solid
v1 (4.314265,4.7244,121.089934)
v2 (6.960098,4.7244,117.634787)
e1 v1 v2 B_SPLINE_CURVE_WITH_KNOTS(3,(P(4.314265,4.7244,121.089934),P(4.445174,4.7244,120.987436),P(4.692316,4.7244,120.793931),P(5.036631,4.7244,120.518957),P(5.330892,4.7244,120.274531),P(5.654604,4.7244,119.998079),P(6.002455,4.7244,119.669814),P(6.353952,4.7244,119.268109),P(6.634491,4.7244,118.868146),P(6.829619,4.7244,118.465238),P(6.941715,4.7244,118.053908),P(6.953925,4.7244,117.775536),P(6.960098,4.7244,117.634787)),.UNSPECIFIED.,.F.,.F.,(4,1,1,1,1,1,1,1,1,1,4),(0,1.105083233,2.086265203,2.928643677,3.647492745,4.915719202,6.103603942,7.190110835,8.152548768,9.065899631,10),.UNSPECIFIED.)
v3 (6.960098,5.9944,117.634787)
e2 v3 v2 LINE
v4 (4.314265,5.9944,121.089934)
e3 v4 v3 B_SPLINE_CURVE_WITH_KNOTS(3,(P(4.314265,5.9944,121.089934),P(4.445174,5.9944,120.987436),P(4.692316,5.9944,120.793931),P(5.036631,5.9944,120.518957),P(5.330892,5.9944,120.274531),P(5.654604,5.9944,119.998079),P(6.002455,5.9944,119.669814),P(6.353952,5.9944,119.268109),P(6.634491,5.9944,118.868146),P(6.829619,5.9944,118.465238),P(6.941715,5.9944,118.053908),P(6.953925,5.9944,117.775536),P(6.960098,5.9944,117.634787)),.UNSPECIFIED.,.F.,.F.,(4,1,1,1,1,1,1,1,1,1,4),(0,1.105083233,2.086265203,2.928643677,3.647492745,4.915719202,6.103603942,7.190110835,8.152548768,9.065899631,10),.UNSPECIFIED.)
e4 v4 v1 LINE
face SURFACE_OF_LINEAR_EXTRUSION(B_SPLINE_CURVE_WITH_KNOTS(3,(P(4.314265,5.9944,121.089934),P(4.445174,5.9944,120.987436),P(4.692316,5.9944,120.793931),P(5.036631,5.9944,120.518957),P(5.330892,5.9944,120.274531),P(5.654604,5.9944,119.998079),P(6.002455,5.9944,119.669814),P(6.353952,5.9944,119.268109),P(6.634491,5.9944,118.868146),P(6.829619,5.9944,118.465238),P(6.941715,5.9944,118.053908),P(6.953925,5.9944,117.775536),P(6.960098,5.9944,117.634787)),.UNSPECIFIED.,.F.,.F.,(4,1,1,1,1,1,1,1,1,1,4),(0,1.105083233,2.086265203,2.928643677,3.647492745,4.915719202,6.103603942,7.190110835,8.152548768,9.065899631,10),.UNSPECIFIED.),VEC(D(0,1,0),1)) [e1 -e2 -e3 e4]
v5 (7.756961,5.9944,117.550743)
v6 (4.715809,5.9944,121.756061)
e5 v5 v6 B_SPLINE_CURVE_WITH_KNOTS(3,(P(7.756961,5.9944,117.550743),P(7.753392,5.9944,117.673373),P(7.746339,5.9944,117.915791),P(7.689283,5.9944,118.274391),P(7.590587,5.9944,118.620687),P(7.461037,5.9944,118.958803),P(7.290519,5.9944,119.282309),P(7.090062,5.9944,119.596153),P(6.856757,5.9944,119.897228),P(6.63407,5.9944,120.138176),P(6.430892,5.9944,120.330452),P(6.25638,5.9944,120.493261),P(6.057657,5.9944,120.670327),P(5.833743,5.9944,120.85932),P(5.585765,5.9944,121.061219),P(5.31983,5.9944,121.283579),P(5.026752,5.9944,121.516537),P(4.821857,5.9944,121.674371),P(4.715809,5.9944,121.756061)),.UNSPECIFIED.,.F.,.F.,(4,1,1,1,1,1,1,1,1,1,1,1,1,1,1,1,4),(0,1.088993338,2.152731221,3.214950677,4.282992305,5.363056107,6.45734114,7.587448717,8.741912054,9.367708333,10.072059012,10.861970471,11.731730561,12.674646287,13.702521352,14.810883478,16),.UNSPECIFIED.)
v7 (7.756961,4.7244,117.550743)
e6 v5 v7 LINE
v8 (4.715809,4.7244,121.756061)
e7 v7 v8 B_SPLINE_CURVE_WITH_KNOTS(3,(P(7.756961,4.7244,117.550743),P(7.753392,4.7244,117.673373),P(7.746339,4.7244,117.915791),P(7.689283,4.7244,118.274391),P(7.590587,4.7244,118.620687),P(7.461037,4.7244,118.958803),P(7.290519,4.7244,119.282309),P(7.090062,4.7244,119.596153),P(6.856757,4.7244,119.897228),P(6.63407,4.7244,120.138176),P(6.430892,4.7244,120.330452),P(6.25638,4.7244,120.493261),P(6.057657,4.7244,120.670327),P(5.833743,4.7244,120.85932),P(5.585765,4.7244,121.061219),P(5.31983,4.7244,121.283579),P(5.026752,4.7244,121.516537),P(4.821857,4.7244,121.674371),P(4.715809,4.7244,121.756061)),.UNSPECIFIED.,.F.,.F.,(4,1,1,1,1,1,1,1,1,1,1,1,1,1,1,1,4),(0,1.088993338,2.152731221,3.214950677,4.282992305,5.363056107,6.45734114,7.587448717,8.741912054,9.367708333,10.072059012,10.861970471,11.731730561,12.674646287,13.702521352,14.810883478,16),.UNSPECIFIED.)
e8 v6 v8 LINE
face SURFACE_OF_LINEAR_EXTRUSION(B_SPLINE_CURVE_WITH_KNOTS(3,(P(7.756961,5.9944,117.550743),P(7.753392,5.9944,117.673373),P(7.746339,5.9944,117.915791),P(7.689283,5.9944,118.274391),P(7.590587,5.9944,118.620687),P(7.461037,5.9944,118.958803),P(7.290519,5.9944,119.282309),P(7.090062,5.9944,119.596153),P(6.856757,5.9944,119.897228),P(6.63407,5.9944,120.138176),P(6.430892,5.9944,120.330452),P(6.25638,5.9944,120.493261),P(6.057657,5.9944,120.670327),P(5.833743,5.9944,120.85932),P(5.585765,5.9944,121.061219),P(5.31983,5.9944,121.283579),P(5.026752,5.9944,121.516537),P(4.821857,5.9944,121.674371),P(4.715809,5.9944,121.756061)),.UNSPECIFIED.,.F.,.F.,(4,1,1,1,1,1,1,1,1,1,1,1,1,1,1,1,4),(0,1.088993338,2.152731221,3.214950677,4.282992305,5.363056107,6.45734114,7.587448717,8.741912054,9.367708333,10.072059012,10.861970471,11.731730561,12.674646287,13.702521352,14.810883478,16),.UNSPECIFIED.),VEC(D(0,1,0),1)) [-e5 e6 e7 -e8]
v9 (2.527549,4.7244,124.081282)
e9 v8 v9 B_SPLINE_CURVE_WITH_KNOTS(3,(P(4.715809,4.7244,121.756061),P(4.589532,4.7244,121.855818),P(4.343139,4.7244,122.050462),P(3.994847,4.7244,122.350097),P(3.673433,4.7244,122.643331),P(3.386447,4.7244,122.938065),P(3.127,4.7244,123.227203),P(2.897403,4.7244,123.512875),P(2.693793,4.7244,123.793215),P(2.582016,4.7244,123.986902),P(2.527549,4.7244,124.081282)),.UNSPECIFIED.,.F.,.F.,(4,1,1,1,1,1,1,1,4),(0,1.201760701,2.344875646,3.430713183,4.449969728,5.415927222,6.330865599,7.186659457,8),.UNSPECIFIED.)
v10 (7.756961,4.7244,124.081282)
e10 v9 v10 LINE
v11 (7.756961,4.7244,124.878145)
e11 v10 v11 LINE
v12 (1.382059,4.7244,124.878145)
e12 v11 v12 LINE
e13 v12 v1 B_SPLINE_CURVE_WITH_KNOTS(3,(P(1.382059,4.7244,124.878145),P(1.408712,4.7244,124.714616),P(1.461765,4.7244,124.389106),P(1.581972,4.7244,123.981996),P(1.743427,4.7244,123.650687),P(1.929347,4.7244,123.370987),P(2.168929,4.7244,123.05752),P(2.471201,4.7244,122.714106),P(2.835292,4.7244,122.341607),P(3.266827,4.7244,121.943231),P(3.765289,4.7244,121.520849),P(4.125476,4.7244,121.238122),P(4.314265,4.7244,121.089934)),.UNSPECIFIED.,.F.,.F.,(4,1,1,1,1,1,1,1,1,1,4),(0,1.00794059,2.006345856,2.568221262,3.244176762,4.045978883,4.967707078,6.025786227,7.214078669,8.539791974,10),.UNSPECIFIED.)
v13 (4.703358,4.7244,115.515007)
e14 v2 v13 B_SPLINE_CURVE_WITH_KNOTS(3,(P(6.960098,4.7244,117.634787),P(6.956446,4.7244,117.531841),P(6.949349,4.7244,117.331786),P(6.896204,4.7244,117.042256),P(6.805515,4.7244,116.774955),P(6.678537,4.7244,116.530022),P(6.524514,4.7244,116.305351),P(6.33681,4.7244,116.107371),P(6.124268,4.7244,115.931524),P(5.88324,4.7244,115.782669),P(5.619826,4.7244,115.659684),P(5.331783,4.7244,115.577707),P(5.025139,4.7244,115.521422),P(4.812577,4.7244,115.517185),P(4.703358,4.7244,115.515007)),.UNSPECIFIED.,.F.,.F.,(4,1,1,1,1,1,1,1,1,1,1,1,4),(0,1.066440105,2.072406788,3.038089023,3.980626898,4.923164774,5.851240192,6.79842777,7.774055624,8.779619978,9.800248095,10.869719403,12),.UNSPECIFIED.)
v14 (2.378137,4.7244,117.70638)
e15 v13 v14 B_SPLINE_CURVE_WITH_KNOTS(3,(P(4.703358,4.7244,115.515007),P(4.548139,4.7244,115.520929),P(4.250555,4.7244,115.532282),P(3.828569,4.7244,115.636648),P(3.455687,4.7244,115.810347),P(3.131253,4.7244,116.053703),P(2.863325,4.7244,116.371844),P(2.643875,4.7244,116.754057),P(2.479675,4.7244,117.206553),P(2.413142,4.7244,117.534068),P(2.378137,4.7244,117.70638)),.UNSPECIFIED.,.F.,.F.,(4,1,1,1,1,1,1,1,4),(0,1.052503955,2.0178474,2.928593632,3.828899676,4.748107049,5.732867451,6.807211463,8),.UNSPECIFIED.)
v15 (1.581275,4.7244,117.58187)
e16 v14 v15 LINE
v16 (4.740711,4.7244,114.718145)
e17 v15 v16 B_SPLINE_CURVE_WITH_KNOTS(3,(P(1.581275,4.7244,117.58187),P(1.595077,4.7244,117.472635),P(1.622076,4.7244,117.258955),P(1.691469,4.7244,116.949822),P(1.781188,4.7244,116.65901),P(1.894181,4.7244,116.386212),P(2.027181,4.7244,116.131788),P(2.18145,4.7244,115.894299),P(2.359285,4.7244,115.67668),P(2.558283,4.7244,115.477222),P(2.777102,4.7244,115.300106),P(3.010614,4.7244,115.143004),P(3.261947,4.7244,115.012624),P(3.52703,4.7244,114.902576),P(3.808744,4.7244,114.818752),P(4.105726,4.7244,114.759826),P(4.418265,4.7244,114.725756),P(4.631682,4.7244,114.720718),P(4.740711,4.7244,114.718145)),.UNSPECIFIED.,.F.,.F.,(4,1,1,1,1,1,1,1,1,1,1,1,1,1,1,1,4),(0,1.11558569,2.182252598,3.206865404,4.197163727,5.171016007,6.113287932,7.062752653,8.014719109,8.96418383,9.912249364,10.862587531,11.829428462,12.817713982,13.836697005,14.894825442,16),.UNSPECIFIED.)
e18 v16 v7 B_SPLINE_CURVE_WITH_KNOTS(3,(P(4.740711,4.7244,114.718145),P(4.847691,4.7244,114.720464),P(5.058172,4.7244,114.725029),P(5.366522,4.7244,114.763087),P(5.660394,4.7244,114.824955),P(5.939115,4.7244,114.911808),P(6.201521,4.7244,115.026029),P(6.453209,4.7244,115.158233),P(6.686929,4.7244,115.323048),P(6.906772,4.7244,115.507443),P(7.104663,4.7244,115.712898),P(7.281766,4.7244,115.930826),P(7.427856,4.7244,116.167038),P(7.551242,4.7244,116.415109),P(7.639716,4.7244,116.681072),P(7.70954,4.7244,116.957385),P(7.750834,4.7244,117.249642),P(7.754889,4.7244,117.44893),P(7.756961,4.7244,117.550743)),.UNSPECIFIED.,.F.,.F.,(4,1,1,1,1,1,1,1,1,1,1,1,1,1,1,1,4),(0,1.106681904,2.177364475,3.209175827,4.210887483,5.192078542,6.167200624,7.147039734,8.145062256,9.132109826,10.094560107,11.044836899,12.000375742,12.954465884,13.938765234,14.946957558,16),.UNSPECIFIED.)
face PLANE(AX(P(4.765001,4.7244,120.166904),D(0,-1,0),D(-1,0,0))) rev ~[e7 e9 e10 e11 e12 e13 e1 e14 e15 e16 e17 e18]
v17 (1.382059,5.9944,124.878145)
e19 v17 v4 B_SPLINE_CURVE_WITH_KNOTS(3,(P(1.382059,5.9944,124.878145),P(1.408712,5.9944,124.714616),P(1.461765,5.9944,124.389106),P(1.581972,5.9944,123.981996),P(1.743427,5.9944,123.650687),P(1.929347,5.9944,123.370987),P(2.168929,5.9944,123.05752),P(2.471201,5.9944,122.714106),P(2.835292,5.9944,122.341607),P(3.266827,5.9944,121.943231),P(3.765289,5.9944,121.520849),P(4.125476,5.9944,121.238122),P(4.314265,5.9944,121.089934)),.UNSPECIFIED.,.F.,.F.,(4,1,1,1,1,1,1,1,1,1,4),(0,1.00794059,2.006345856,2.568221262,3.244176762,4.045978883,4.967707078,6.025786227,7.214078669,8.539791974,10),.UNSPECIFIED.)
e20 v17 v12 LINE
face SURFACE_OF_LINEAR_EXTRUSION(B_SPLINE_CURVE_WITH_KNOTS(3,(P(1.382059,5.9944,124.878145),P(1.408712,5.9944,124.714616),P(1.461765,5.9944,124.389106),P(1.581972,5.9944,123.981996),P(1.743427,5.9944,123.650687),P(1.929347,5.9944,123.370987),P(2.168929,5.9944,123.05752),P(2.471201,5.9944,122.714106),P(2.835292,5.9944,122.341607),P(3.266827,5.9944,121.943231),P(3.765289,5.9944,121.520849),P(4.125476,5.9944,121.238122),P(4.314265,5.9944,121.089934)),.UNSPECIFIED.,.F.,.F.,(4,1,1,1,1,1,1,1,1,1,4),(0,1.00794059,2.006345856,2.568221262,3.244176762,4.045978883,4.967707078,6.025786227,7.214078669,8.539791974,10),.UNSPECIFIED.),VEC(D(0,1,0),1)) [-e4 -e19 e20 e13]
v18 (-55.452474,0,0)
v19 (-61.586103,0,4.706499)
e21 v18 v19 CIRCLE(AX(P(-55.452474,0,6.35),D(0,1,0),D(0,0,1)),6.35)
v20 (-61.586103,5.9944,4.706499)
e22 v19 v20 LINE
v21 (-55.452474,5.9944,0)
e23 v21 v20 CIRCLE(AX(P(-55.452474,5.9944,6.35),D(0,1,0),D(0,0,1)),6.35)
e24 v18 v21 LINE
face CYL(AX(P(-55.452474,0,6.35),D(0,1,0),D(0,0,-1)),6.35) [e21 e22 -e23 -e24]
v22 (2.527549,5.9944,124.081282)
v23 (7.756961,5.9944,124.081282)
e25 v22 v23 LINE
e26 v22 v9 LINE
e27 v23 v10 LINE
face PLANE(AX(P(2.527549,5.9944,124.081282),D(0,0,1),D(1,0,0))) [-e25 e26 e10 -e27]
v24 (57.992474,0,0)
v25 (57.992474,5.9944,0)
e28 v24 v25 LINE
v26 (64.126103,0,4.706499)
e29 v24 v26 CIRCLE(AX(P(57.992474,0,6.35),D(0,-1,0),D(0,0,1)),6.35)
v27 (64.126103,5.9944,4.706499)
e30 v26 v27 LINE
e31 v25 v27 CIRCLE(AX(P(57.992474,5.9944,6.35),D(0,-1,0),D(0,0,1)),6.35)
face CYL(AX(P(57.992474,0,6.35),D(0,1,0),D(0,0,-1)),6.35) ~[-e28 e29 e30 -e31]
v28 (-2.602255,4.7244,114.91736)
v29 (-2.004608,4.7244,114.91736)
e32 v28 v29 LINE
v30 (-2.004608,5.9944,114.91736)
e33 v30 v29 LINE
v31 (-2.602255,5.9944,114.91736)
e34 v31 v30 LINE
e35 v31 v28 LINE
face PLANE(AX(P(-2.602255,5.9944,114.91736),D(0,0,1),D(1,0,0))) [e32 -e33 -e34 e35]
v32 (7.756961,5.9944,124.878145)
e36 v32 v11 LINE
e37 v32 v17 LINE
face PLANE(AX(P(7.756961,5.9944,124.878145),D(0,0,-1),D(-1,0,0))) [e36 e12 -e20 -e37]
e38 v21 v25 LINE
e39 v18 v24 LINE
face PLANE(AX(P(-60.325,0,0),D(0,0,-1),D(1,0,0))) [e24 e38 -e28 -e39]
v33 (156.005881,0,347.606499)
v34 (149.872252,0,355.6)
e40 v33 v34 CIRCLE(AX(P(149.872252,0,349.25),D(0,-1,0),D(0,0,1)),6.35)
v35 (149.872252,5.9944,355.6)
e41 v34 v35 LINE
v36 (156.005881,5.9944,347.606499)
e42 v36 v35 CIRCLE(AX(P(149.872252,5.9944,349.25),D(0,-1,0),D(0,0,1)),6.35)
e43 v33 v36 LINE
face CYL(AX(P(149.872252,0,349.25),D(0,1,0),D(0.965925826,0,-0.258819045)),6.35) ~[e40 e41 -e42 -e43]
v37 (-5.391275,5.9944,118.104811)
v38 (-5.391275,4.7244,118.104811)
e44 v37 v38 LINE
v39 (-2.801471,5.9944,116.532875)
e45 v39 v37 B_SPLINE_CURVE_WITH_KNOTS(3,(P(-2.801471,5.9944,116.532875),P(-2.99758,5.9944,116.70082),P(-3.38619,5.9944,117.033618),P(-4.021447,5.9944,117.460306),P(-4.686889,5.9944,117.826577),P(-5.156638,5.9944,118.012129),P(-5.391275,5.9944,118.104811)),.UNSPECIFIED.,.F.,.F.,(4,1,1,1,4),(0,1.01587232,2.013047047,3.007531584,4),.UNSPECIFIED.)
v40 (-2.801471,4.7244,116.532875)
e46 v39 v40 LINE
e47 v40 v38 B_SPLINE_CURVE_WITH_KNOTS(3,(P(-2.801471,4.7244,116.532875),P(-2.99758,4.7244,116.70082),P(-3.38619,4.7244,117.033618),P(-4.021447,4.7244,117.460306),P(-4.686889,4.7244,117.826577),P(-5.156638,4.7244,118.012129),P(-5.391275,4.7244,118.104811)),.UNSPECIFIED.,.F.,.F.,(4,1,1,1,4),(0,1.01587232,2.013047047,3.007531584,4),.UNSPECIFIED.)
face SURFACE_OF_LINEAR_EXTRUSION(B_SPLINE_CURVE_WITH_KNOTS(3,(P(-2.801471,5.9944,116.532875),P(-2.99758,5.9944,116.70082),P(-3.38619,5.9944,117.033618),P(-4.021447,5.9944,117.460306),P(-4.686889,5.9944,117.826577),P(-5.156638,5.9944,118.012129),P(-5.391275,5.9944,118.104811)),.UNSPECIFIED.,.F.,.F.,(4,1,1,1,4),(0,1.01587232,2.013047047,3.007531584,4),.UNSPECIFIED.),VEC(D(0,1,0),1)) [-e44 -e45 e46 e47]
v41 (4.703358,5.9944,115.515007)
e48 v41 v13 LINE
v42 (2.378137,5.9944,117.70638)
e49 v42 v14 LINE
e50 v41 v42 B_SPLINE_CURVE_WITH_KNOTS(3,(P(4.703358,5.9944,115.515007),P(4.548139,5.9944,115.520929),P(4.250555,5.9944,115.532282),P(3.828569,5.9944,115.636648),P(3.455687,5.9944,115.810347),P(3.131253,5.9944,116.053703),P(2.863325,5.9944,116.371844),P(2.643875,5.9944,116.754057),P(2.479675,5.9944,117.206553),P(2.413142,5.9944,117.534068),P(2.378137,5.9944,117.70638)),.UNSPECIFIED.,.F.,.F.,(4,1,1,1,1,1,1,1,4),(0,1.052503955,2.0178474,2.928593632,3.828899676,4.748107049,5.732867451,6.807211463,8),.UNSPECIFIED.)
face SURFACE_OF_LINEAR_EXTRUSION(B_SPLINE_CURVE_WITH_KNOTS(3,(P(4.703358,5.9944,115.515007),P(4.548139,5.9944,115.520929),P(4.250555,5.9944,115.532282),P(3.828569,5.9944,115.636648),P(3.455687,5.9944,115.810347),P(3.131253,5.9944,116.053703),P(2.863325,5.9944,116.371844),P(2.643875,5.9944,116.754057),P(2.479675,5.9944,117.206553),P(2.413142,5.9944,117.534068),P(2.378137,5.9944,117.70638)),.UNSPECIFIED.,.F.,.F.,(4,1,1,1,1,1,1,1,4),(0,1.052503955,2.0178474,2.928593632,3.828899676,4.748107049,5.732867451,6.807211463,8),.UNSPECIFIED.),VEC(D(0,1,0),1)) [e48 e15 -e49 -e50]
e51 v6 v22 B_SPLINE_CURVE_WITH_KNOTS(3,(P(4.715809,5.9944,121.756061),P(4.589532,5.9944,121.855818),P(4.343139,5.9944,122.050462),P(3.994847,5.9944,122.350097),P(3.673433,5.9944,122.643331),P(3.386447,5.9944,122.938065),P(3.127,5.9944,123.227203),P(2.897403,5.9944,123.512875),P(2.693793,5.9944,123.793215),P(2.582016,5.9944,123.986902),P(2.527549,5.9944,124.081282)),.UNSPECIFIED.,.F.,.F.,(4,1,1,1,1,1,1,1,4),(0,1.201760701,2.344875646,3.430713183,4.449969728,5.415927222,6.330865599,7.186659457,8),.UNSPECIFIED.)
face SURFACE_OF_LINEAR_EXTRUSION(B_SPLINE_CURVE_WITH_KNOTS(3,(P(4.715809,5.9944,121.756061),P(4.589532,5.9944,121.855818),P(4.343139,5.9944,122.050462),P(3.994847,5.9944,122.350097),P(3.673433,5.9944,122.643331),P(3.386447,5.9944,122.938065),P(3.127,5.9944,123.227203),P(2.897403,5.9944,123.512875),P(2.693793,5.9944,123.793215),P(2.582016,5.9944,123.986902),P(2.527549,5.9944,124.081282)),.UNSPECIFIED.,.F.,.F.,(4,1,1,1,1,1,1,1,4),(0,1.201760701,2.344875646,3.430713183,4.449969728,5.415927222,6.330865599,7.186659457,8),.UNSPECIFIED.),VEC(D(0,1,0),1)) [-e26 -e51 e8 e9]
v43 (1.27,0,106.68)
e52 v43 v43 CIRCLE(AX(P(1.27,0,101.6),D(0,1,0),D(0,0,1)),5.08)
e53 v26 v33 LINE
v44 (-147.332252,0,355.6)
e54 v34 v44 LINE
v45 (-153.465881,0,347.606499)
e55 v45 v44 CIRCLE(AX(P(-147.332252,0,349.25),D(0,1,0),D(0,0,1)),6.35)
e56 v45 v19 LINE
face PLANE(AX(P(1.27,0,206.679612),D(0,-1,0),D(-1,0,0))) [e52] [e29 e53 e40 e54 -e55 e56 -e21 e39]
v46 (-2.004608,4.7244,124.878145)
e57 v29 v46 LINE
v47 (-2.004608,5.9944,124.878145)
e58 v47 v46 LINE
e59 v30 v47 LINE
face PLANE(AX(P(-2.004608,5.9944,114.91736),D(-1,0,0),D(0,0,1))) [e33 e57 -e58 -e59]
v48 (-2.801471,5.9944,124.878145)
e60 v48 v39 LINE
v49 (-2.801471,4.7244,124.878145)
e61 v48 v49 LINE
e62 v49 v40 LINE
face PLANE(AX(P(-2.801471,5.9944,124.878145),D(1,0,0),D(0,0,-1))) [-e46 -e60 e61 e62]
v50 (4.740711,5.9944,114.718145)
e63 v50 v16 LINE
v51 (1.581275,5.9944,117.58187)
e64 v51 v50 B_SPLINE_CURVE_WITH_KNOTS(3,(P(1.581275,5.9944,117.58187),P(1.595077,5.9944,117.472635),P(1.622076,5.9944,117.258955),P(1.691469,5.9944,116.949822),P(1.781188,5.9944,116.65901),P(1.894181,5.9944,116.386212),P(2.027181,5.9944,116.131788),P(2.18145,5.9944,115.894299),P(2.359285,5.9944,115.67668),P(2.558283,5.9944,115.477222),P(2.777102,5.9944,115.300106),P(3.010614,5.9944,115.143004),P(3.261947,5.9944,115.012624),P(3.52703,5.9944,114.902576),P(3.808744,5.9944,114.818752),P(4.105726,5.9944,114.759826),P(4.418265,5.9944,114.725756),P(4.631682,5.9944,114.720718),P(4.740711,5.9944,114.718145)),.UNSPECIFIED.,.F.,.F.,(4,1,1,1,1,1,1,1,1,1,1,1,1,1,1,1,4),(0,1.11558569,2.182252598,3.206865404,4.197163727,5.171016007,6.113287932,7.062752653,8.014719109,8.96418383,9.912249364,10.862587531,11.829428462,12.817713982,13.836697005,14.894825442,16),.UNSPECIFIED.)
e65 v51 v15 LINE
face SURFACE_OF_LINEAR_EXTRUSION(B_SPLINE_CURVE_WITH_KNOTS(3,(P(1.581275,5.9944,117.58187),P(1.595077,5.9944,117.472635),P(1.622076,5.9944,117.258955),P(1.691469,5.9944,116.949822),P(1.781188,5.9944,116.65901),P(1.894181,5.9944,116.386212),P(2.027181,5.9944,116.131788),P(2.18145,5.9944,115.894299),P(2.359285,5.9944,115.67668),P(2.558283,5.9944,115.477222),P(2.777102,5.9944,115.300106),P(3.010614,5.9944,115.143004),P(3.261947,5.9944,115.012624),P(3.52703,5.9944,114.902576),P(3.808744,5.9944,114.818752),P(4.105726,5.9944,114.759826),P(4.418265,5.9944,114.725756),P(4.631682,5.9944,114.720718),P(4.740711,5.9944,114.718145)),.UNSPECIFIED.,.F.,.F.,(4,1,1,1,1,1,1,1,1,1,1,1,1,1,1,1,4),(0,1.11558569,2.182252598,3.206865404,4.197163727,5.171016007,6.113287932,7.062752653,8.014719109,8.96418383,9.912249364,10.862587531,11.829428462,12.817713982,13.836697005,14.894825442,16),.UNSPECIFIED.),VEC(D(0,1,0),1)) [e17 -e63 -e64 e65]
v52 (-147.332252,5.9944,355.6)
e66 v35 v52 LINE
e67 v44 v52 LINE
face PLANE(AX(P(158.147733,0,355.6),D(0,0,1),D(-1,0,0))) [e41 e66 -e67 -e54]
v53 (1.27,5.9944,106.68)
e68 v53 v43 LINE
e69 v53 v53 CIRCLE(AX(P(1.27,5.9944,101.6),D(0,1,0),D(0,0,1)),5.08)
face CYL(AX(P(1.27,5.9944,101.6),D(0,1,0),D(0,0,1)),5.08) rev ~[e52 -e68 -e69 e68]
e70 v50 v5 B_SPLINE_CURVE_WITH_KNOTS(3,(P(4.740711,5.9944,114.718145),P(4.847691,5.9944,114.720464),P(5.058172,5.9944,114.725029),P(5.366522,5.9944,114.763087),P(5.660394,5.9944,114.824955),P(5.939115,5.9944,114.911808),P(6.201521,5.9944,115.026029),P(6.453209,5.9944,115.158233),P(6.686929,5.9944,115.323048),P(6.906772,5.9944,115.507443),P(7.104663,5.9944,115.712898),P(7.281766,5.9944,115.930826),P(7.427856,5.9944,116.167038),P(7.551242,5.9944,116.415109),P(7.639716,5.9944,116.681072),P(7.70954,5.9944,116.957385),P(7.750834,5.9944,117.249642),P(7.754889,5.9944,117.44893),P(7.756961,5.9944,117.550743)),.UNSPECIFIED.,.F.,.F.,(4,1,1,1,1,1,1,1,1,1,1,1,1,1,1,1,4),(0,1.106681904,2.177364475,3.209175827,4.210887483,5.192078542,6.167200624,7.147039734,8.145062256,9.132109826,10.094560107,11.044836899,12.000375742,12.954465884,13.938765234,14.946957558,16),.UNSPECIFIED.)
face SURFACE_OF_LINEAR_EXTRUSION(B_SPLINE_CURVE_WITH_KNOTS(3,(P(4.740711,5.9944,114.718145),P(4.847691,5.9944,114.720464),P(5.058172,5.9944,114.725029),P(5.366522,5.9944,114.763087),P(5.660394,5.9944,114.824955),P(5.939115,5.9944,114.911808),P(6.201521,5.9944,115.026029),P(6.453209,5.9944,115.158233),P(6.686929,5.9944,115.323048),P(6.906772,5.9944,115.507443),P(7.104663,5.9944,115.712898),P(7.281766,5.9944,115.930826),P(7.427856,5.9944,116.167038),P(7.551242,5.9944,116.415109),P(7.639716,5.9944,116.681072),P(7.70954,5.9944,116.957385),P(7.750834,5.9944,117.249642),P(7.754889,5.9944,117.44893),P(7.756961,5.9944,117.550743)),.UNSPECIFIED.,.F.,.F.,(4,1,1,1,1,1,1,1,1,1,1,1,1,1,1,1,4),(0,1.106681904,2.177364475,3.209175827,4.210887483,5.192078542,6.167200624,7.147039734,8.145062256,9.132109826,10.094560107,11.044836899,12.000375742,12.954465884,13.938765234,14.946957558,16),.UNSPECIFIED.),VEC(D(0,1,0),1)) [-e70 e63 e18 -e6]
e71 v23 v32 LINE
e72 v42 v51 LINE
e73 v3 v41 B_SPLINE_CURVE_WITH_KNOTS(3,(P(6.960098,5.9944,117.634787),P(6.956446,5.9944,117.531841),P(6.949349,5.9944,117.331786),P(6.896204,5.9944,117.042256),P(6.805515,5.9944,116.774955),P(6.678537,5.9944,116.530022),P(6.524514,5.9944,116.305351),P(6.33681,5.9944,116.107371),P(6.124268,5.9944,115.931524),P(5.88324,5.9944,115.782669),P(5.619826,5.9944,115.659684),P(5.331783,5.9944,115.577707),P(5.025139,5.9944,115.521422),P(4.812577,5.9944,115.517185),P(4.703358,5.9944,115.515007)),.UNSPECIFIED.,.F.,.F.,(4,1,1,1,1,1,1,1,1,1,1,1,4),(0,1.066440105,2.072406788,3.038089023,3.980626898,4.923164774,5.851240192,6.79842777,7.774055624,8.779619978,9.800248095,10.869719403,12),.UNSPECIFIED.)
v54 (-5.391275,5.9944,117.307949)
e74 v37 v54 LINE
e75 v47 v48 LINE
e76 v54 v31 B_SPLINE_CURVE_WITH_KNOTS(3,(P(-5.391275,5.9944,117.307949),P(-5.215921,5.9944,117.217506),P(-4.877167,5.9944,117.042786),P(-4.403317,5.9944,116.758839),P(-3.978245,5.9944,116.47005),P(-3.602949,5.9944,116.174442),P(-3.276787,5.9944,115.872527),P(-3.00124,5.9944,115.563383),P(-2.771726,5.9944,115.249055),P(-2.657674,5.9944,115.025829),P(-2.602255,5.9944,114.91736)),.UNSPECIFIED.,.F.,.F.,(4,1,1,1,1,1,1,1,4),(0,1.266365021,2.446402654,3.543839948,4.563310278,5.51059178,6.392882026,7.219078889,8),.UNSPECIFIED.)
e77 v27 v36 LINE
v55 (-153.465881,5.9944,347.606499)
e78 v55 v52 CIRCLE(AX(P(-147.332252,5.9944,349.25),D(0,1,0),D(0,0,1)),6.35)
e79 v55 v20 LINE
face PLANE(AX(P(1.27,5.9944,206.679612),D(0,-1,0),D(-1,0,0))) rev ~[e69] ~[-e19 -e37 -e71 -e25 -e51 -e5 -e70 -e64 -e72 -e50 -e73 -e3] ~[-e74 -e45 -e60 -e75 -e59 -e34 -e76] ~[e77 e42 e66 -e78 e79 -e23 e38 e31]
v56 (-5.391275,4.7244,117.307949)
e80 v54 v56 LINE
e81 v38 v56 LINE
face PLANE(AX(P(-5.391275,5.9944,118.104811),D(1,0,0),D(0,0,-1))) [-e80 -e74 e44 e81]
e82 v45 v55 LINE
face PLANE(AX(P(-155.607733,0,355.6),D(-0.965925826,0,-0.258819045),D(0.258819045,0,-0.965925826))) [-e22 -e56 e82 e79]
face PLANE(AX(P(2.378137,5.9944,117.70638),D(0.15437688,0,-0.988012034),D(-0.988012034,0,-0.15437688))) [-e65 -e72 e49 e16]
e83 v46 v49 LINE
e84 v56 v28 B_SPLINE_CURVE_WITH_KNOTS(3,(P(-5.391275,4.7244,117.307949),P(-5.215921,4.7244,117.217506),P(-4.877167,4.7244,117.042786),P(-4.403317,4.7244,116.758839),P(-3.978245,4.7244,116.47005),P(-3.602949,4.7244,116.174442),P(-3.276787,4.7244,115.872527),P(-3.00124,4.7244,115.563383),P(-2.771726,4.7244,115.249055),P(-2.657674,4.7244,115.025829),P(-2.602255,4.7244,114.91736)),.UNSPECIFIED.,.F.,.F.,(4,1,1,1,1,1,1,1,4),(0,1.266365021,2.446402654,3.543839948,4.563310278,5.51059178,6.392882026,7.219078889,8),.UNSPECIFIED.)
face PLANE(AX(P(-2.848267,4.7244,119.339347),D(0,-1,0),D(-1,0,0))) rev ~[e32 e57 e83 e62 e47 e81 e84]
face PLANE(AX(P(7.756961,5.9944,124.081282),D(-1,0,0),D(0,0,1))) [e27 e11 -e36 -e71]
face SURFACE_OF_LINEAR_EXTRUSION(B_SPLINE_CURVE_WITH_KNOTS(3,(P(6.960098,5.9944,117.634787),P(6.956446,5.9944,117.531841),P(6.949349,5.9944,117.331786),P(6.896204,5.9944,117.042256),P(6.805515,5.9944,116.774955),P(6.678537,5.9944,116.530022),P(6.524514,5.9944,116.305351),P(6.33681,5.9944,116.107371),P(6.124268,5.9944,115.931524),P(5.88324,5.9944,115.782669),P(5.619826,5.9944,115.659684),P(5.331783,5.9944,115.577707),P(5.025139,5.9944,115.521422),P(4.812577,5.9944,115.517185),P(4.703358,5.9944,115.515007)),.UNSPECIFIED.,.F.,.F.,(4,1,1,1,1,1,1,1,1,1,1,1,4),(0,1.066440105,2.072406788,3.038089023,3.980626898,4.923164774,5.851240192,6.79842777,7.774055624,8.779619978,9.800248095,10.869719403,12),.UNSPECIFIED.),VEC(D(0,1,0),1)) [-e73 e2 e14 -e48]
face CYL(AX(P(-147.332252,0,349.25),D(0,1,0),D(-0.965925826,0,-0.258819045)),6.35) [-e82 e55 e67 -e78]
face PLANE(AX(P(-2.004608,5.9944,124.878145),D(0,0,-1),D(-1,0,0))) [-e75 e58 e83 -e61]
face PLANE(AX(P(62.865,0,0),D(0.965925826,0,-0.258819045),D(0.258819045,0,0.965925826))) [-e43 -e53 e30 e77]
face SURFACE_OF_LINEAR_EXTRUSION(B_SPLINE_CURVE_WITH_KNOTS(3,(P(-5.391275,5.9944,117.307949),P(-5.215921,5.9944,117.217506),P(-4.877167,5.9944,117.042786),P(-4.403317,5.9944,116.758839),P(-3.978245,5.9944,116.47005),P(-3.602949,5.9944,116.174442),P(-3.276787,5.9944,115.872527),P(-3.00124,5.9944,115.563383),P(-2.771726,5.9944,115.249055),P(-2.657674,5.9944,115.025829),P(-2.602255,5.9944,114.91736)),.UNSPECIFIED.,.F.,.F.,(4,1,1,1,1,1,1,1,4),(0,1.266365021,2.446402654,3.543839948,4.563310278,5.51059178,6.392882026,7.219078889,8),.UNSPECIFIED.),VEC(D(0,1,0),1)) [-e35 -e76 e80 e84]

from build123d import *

# Parameters (mm, degrees)
BOSS_EXTRUDE1_DEPTH = 5.9944
SKETCH2_R           = 5.08
CUT_EXTRUDE1_DEPTH  = 390.227437664
CUT_EXTRUDE2_DEPTH  = 1.27
FILLET1_R           = 6.35


with BuildPart() as part:
    # Sketch1 → Boss-Extrude1 (new body)
    with BuildSketch(Plane(origin=(0, 0, 0), x_dir=(1, 0, 0), z_dir=(0, 1, 0))):
        Polygon((-60.325, 0), (62.865, 0), (158.147732829, -355.6), (-155.607732829, -355.6), align=None)
    extrude(amount=BOSS_EXTRUDE1_DEPTH)

    # Sketch2 → Cut-Extrude1 (cut, through all)
    with BuildSketch(Plane(origin=(0, 5.9944, 0), x_dir=(1, 0, 0), z_dir=(0, 1, 0))):
        with Locations(Location((1.27, -101.6, 0), (0, 0, 270))):
            Circle(SKETCH2_R)
    extrude(amount=-CUT_EXTRUDE1_DEPTH, mode=Mode.SUBTRACT)

    # Sketch3 → Cut-Extrude2 (cut)
    with BuildSketch(Plane(origin=(0, 5.9944, 0), x_dir=(1, 0, 0), z_dir=(0, 1, 0))):
        with BuildLine():
            Line((-2.004607843, -124.878144621), (-2.801470588, -124.878144621))
            Line((-2.801470588, -124.878144621), (-2.801470588, -116.532875013))
            add(Edge.make_bspline(
                [(-2.801470588, -116.532875013), (-2.997580196, -116.700819797), (-3.386189924, -117.033618267), (-4.021446732, -117.460305556), (-4.686888668, -117.826576867), (-5.156638111, -118.012129239), (-5.39127451, -118.104811287)],
                knots=[0, 0, 0, 0, 1.01587232, 2.013047047, 3.007531584, 4, 4, 4, 4], degree=3))
            Line((-5.39127451, -118.104811287), (-5.39127451, -117.307948542))
            add(Edge.make_bspline(
                [(-5.39127451, -117.307948542), (-5.215920906, -117.217505842), (-4.877167455, -117.042785871), (-4.403316888, -116.758839494), (-3.978244692, -116.470049726), (-3.602949198, -116.17444242), (-3.276786637, -115.872526552), (-3.001240232, -115.563383013), (-2.771725814, -115.249055295), (-2.657674184, -115.025829059), (-2.602254902, -114.917360307)],
                knots=[0, 0, 0, 0, 1.266365021, 2.446402654, 3.543839948, 4.563310278, 5.51059178, 6.392882026, 7.219078889, 8, 8, 8, 8], degree=3))
            Line((-2.602254902, -114.917360307), (-2.004607843, -114.917360307))
            Line((-2.004607843, -114.917360307), (-2.004607843, -124.878144621))
        make_face()
        with BuildLine():
            Line((7.756960784, -124.878144621), (1.382058824, -124.878144621))
            add(Edge.make_bspline(
                [(1.382058824, -124.878144621), (1.408711728, -124.714616011), (1.461765394, -124.389105805), (1.581972244, -123.981996467), (1.743426669, -123.650686593), (1.9293472, -123.370987394), (2.168929241, -123.057519518), (2.47120082, -122.71410621), (2.835292405, -122.341606598), (3.26682725, -121.943231351), (3.76528863, -121.520849044), (4.12547647, -121.238121937), (4.314264706, -121.089933836)],
                knots=[0, 0, 0, 0, 1.00794059, 2.006345856, 2.568221262, 3.244176762, 4.045978883, 4.967707078, 6.025786227, 7.214078669, 8.539791974, 10, 10, 10, 10], degree=3))
            add(Edge.make_bspline(
                [(4.314264706, -121.089933836), (4.44517426, -120.987435642), (4.692315869, -120.79393129), (5.03663113, -120.518956984), (5.330891728, -120.274531461), (5.654603916, -119.998078646), (6.00245485, -119.669813627), (6.353952481, -119.268109359), (6.634490533, -118.868145818), (6.82961898, -118.465238329), (6.941715143, -118.053908101), (6.953924697, -117.775536057), (6.960098039, -117.634786777)],
                knots=[0, 0, 0, 0, 1.105083233, 2.086265203, 2.928643677, 3.647492745, 4.915719202, 6.103603942, 7.190110835, 8.152548768, 9.065899631, 10, 10, 10, 10], degree=3))
            add(Edge.make_bspline(
                [(6.960098039, -117.634786777), (6.956446087, -117.531840775), (6.949349268, -117.331786414), (6.896203587, -117.042256181), (6.805514931, -116.774954845), (6.678536736, -116.530021827), (6.524513793, -116.305351489), (6.336809674, -116.107371083), (6.124267579, -115.931524187), (5.883239638, -115.782669248), (5.619825862, -115.659684087), (5.331783261, -115.577707036), (5.025139044, -115.521422364), (4.812576912, -115.517184746), (4.703357843, -115.515007366)],
                knots=[0, 0, 0, 0, 1.066440105, 2.072406788, 3.038089023, 3.980626898, 4.923164774, 5.851240192, 6.79842777, 7.774055624, 8.779619978, 9.800248095, 10.869719403, 12, 12, 12, 12], degree=3))
            add(Edge.make_bspline(
                [(4.703357843, -115.515007366), (4.548138853, -115.520928959), (4.250554949, -115.532281765), (3.828569287, -115.636647969), (3.455686954, -115.810346784), (3.131253079, -116.053703201), (2.863324958, -116.371844332), (2.643875434, -116.754056503), (2.47967465, -117.206553497), (2.413141707, -117.534067539), (2.378137255, -117.706379915)],
                knots=[0, 0, 0, 0, 1.052503955, 2.0178474, 2.928593632, 3.828899676, 4.748107049, 5.732867451, 6.807211463, 8, 8, 8, 8], degree=3))
            Line((2.378137255, -117.706379915), (1.58127451, -117.581870111))
            add(Edge.make_bspline(
                [(1.58127451, -117.581870111), (1.595076615, -117.472635137), (1.622075599, -117.258955176), (1.691468745, -116.949821561), (1.781188383, -116.65900971), (1.894180859, -116.386211747), (2.027180985, -116.131787712), (2.181450374, -115.894298832), (2.359285462, -115.67667965), (2.558282869, -115.477221584), (2.777101916, -115.300105787), (3.010614318, -115.143004122), (3.261947111, -115.012623851), (3.527029837, -114.902576084), (3.808744154, -114.818752319), (4.105725503, -114.759825606), (4.418264758, -114.725756279), (4.631681691, -114.72071836), (4.740710784, -114.718144621)],
                knots=[0, 0, 0, 0, 1.11558569, 2.182252598, 3.206865404, 4.197163727, 5.171016007, 6.113287932, 7.062752653, 8.014719109, 8.96418383, 9.912249364, 10.862587531, 11.829428462, 12.817713982, 13.836697005, 14.894825442, 16, 16, 16, 16], degree=3))
            add(Edge.make_bspline(
                [(4.740710784, -114.718144621), (4.847691173, -114.72046441), (5.058171976, -114.725028527), (5.36652187, -114.763086832), (5.660393604, -114.82495492), (5.939114933, -114.911807601), (6.20152099, -115.026029366), (6.453209418, -115.158232899), (6.686929332, -115.3230483), (6.90677244, -115.507442597), (7.10466303, -115.712898212), (7.281765919, -115.930826025), (7.427856103, -116.167038419), (7.551242282, -116.415109275), (7.639716311, -116.6810721), (7.709539512, -116.957384709), (7.75083418, -117.249641754), (7.754889172, -117.448930261), (7.756960784, -117.55074266)],
                knots=[0, 0, 0, 0, 1.106681904, 2.177364475, 3.209175827, 4.210887483, 5.192078542, 6.167200624, 7.147039734, 8.145062256, 9.132109826, 10.094560107, 11.044836899, 12.000375742, 12.954465884, 13.938765234, 14.946957558, 16, 16, 16, 16], degree=3))
            add(Edge.make_bspline(
                [(7.756960784, -117.55074266), (7.753392459, -117.673373377), (7.746338565, -117.915790814), (7.689282598, -118.27439108), (7.590587318, -118.620687231), (7.461036956, -118.958802553), (7.290519429, -119.282309345), (7.09006167, -119.596153204), (6.8567572, -119.897227952), (6.634069689, -120.13817633), (6.430892234, -120.330451922), (6.256380071, -120.493260828), (6.057657341, -120.670326555), (5.833743473, -120.859320414), (5.585765126, -121.061219336), (5.319829881, -121.283578823), (5.026752033, -121.516537042), (4.821857186, -121.674370634), (4.715808824, -121.756061287)],
                knots=[0, 0, 0, 0, 1.088993338, 2.152731221, 3.214950677, 4.282992305, 5.363056107, 6.45734114, 7.587448717, 8.741912054, 9.367708333, 10.072059012, 10.861970471, 11.731730561, 12.674646287, 13.702521352, 14.810883478, 16, 16, 16, 16], degree=3))
            add(Edge.make_bspline(
                [(4.715808824, -121.756061287), (4.589531577, -121.855817691), (4.343139397, -122.050462401), (3.994847151, -122.350096885), (3.673432745, -122.643330902), (3.386447313, -122.938064959), (3.127000006, -123.22720294), (2.897403274, -123.51287463), (2.693792631, -123.79321546), (2.582015901, -123.986901831), (2.52754902, -124.081281875)],
                knots=[0, 0, 0, 0, 1.201760701, 2.344875646, 3.430713183, 4.449969728, 5.415927222, 6.330865599, 7.186659457, 8, 8, 8, 8], degree=3))
            Line((2.52754902, -124.081281875), (7.756960784, -124.081281875))
            Line((7.756960784, -124.081281875), (7.756960784, -124.878144621))
        make_face()
    extrude(amount=-CUT_EXTRUDE2_DEPTH, mode=Mode.SUBTRACT)

    # Fillet1
    fillet1_edges = [part.edges().sort_by_distance(p)[0] for p in [
        (158.147732829, 2.9972, 355.6),
        (-155.607732829, 2.9972, 355.6),
        (-60.325, 2.9972, 0),
        (62.865, 2.9972, 0),
    ]]
    fillet(fillet1_edges, radius=FILLET1_R)


solid = part.part
